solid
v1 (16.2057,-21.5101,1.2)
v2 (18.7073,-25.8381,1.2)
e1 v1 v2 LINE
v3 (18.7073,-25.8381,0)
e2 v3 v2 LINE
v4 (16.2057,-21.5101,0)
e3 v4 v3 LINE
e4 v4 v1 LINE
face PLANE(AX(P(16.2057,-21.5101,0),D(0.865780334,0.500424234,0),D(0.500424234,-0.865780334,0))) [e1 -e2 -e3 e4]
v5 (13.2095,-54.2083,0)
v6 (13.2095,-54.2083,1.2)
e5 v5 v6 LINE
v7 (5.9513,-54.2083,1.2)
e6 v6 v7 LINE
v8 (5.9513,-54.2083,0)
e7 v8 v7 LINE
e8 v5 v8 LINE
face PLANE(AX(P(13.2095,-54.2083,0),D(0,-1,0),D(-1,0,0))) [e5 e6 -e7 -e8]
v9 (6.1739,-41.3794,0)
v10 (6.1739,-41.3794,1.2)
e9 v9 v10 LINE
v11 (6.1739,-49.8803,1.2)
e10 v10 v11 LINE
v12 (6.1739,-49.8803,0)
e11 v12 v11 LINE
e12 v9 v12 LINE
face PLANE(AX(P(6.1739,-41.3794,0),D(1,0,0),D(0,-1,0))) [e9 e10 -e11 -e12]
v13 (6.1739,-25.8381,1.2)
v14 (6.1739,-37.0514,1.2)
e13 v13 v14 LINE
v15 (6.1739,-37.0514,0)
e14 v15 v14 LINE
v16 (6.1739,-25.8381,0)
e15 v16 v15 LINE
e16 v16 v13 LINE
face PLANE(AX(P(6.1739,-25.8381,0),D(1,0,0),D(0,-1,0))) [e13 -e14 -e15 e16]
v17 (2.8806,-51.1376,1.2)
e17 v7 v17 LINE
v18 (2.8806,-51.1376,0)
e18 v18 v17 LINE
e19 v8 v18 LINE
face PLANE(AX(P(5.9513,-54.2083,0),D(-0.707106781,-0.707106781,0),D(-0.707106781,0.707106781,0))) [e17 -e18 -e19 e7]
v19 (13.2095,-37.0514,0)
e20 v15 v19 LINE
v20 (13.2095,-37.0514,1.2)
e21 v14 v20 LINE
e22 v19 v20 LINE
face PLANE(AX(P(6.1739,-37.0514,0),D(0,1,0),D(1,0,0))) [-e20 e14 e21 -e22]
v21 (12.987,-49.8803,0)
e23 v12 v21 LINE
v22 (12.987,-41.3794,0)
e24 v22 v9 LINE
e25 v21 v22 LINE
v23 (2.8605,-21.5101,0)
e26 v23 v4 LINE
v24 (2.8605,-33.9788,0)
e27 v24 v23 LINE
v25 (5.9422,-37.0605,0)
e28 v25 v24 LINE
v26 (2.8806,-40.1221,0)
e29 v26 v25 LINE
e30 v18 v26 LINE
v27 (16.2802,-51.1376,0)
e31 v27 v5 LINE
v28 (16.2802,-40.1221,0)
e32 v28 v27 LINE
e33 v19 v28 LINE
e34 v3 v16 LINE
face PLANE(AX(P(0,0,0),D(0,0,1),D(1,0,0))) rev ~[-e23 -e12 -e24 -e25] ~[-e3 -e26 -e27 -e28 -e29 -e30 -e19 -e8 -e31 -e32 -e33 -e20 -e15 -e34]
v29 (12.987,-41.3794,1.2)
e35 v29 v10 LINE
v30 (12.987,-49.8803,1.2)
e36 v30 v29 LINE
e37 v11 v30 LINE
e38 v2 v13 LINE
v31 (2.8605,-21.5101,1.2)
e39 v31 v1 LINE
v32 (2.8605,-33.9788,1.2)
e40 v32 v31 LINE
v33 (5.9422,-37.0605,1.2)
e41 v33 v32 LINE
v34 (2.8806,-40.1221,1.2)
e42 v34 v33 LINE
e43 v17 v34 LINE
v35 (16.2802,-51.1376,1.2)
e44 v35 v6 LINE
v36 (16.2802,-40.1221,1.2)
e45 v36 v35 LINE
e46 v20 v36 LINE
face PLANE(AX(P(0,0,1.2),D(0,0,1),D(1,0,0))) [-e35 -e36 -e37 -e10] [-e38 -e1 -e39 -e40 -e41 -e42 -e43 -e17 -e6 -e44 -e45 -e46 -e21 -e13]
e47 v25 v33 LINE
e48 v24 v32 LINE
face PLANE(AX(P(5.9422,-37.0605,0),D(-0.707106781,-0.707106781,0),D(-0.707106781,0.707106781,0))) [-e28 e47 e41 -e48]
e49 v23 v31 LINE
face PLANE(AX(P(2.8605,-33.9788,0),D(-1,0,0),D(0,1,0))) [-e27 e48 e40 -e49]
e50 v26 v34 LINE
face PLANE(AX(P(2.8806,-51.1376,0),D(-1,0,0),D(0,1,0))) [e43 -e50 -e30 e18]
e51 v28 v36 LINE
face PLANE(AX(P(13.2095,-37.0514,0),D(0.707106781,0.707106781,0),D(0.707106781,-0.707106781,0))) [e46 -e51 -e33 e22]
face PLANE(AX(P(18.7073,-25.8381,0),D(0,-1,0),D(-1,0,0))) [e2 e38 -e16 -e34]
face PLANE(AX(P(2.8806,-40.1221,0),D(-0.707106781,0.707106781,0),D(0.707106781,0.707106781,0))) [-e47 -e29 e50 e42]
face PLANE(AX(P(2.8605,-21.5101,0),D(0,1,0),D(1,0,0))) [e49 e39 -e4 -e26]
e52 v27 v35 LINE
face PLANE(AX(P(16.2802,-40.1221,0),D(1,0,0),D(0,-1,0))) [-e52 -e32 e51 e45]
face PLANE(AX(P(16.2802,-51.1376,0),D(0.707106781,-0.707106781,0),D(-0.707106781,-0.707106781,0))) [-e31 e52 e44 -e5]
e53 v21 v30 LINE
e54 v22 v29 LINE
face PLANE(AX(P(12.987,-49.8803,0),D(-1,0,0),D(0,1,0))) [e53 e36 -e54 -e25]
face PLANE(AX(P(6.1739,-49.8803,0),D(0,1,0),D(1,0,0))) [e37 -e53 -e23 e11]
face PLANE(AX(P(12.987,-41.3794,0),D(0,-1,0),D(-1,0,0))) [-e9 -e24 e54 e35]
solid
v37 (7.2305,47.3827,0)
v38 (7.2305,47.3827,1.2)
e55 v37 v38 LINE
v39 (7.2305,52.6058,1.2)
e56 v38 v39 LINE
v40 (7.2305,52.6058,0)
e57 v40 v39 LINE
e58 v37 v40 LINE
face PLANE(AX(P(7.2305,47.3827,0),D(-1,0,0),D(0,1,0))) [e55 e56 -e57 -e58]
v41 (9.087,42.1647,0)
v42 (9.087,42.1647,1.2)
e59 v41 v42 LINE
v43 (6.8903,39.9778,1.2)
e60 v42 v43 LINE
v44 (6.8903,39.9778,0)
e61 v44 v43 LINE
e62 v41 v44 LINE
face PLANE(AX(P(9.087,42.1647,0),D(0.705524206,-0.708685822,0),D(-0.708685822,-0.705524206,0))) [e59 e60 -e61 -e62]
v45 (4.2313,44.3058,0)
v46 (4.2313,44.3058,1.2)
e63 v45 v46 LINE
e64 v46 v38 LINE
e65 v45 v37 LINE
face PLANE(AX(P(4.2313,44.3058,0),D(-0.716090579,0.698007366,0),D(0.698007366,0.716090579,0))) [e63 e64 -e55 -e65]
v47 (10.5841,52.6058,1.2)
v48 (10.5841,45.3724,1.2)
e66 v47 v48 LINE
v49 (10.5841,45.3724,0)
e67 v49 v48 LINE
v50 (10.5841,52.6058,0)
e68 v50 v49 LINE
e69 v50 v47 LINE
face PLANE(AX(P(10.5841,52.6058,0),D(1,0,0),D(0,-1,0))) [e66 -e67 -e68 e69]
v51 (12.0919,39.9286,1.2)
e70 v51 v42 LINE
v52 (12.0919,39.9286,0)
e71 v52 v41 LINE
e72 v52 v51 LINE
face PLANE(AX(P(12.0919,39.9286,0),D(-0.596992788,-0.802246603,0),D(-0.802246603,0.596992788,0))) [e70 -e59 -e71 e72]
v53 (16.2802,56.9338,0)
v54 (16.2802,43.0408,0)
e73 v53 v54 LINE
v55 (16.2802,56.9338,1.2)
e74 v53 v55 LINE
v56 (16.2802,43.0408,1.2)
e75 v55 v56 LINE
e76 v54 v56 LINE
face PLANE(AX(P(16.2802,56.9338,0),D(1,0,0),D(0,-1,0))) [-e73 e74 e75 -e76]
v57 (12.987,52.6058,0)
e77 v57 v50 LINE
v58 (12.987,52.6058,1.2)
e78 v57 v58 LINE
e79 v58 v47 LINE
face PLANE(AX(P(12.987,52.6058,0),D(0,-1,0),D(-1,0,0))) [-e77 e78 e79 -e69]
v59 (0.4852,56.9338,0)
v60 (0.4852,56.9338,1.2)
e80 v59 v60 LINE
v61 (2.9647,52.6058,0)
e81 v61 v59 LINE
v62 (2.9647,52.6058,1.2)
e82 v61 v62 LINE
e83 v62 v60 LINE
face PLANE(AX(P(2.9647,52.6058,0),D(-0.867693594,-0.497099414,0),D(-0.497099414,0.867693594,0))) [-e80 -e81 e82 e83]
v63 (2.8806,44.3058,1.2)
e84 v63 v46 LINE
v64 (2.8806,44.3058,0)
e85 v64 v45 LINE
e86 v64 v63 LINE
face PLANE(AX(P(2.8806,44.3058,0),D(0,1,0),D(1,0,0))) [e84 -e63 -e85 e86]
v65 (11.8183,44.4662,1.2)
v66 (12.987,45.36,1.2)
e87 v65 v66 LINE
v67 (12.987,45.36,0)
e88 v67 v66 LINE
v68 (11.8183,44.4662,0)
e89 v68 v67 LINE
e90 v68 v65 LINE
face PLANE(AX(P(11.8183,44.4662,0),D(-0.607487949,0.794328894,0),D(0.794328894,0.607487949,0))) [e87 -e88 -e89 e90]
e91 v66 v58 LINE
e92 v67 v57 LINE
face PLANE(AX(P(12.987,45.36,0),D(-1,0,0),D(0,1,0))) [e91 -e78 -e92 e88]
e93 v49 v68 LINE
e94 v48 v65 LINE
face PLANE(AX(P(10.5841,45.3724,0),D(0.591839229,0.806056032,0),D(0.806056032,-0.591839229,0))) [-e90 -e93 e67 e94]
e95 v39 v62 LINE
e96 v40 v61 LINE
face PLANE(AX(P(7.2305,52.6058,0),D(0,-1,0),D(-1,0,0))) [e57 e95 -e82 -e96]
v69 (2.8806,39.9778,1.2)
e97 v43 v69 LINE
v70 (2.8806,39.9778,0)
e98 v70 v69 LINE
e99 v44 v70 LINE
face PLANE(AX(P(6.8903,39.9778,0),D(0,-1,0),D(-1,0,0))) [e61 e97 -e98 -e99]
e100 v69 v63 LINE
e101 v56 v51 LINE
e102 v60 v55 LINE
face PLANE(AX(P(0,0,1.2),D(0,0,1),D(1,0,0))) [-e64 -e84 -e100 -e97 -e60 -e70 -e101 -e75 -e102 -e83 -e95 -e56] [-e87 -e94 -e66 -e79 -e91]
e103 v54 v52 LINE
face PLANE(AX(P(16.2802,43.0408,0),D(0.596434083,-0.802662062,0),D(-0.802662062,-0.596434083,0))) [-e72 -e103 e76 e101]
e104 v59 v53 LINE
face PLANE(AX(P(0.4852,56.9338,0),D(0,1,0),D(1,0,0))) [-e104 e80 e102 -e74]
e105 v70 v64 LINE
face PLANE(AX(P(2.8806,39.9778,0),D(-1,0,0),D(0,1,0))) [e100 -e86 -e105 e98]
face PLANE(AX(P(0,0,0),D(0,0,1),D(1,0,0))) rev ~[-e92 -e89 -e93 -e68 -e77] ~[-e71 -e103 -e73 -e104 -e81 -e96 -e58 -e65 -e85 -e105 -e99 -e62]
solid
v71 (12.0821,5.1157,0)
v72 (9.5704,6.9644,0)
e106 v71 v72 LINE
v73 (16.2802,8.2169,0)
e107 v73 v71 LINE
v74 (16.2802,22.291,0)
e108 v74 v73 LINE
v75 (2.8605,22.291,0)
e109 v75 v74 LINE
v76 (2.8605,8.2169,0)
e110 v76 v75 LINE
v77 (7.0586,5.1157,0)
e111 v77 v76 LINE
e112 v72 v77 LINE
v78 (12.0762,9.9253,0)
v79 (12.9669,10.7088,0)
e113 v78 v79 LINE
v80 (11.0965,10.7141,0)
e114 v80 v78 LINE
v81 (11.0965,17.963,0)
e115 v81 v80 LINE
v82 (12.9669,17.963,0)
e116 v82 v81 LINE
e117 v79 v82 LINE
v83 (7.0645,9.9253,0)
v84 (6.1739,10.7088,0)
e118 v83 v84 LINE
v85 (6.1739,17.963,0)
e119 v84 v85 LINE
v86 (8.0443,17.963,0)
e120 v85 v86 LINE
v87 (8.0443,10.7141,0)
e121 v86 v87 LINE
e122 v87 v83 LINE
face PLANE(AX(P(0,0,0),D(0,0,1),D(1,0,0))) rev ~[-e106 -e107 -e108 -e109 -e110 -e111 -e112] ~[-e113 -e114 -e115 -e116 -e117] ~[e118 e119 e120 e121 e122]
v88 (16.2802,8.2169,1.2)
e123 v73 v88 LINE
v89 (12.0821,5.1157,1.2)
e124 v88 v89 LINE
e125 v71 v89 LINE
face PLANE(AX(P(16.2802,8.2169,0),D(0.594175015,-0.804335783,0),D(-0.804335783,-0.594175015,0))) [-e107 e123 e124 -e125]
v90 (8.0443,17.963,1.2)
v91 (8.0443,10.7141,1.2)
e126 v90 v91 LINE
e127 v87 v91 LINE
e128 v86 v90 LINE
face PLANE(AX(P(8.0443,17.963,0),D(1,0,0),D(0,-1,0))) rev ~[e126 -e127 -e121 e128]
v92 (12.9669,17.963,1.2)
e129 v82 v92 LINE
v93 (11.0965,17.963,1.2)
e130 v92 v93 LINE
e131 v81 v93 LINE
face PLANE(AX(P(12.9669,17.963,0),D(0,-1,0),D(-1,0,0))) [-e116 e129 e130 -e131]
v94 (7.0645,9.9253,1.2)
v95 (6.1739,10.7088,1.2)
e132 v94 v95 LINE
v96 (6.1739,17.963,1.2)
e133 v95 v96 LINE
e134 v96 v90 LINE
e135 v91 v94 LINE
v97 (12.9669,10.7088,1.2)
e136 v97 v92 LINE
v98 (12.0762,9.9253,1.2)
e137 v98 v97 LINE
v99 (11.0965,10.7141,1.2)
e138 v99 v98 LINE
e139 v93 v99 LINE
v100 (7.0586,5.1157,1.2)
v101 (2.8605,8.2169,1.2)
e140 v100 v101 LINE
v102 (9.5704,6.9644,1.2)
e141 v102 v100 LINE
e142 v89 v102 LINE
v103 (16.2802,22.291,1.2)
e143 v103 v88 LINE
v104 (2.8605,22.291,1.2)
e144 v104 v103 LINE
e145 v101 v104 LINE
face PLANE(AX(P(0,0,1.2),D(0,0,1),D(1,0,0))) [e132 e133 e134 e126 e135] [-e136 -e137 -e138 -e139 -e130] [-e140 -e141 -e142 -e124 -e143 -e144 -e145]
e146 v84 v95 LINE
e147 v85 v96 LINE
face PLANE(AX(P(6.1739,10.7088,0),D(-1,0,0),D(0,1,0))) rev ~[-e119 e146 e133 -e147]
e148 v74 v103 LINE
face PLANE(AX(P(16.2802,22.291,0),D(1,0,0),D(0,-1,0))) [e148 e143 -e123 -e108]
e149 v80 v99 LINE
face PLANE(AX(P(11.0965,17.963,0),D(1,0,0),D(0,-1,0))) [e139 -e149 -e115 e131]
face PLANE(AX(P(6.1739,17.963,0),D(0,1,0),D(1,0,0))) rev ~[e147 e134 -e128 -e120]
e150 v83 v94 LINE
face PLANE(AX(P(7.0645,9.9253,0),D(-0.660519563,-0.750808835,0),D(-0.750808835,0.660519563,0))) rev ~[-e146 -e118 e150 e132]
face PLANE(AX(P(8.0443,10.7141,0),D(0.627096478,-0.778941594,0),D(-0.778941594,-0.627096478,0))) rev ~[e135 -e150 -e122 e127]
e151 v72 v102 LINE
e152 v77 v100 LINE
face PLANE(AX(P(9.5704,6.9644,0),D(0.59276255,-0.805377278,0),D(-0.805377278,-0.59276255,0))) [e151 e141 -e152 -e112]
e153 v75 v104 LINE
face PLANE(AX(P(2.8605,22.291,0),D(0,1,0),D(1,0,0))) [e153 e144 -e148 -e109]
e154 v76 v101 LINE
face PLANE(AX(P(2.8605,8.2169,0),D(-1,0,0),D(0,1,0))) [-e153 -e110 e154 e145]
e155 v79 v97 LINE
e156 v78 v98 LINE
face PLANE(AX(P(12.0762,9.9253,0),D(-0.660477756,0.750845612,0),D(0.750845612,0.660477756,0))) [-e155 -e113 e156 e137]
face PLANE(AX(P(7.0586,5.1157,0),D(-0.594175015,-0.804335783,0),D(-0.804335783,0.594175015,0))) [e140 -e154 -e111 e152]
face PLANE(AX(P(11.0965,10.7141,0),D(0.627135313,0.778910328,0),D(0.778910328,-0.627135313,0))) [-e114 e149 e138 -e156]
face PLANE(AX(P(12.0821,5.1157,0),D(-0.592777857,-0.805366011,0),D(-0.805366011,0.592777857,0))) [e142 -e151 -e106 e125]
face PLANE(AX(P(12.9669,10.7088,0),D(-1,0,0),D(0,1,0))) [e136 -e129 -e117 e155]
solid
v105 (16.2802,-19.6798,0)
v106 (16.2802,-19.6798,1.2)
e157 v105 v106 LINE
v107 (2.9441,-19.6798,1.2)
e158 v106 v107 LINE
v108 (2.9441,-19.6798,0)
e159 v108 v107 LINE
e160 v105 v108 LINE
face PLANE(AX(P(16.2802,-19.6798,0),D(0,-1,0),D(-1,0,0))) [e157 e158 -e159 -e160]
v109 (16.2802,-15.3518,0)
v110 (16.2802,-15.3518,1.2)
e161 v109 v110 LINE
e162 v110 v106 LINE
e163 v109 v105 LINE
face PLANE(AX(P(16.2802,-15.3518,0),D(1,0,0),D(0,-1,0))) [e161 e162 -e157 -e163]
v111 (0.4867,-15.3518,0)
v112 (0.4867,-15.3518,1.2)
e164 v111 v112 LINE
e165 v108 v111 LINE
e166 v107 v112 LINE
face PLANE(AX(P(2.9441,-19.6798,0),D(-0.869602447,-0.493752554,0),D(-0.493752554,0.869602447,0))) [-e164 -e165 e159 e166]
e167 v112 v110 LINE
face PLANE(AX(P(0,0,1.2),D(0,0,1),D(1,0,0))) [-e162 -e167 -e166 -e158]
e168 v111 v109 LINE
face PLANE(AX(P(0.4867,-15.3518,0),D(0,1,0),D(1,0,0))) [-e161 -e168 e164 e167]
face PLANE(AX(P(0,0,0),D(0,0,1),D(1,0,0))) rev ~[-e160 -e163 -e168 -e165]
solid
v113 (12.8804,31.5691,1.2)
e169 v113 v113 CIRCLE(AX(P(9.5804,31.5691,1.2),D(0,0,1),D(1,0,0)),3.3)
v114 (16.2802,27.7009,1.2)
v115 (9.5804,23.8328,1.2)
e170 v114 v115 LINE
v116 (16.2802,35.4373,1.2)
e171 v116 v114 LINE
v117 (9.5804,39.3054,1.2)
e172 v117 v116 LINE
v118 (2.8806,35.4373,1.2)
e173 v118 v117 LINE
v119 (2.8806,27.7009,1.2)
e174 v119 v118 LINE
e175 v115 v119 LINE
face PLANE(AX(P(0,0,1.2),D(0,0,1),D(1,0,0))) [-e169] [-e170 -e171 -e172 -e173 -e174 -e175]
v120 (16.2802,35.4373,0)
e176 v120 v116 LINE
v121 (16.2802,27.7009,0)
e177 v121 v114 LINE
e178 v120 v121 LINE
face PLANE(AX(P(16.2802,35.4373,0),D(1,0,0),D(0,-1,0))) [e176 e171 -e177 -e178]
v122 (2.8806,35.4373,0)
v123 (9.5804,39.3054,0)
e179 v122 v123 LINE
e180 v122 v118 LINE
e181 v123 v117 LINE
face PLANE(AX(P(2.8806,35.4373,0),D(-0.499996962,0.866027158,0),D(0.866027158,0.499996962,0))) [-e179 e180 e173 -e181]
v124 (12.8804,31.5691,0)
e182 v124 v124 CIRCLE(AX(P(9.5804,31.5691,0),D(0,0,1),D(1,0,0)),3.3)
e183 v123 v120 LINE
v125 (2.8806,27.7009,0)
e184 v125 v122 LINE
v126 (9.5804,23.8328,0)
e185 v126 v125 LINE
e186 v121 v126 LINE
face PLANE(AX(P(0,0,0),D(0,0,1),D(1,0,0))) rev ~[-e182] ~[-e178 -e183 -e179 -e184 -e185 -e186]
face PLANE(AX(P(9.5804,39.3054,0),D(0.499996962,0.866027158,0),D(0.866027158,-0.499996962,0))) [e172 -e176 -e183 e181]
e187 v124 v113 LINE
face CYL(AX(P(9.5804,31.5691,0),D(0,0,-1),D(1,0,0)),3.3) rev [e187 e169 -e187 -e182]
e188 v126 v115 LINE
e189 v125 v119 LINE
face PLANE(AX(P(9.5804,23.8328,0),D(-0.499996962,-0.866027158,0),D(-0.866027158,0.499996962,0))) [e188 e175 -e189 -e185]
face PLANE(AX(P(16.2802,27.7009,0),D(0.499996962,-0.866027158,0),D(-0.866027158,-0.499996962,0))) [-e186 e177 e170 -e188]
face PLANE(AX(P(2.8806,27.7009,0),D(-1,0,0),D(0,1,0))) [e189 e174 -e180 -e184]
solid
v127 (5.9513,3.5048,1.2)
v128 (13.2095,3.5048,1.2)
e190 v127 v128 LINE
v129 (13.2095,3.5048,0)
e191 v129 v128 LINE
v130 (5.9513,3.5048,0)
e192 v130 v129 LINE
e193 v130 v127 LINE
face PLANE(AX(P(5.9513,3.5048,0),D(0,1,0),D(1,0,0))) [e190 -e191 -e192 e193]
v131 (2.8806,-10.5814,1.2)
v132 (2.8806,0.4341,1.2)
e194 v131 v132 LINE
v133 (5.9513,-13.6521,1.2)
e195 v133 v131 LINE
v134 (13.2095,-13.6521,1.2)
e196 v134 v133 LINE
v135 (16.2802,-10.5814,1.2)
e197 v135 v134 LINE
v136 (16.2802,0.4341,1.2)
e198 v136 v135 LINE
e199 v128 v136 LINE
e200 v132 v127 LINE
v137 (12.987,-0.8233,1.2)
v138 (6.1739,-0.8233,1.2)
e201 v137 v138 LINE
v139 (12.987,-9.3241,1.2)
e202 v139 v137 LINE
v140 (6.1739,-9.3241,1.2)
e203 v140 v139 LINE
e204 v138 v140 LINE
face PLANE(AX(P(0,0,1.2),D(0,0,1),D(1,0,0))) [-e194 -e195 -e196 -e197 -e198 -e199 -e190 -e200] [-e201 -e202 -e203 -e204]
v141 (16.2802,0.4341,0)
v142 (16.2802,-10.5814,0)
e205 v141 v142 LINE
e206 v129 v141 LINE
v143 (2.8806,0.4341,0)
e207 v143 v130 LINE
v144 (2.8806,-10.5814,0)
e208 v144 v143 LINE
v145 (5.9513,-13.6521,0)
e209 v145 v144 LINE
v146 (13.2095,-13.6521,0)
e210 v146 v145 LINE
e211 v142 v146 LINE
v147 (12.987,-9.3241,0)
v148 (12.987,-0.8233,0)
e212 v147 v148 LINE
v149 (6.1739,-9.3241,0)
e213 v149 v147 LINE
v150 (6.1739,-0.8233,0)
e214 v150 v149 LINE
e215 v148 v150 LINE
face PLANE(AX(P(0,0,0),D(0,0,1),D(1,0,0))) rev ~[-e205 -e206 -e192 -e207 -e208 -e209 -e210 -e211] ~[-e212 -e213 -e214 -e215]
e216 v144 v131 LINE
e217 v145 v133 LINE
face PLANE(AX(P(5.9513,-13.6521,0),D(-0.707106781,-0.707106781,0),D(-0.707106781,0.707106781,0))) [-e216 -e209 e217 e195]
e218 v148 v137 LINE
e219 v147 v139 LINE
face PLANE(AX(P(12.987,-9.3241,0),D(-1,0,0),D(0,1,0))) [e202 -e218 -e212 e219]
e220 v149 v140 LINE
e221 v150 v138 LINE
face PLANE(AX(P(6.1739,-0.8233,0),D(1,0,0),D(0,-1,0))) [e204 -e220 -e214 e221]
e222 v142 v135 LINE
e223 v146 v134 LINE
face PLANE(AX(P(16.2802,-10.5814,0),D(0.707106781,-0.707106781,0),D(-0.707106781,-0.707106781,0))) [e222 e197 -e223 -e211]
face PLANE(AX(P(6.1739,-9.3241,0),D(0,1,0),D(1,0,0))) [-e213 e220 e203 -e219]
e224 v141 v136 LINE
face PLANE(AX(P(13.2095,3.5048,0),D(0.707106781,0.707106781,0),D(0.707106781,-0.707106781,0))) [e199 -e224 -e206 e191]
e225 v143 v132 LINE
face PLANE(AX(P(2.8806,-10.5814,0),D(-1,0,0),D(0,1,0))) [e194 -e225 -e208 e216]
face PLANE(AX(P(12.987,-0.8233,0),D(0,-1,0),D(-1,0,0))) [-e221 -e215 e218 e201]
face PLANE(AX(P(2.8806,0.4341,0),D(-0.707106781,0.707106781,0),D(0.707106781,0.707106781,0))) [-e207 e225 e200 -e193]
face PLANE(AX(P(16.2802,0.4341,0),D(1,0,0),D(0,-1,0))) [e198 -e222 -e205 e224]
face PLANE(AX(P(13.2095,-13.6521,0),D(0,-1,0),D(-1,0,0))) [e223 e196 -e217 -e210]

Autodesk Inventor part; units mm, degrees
ref_plane "YZ Plane" through (0, 0, 0) normal (1, 0, 0) x (0, 1, 0)
ref_plane "XZ Plane" through (0, 0, 0) normal (0, 1, 0) x (-1, 0, 0)
ref_plane "XY Plane" through (0, 0, 0) normal (0, 0, 1) x (1, 0, 0)
sketch "Sketch1" plane through (0, 0, 0) normal (0, 0, 1) x (1, 0, 0)
  line L0 (13.187, 45.2611) -> (13.187, 52.8058) construction
  line L1 (11.8207, 44.2163) -> (13.187, 45.2611) construction
  line L2 (10.3841, 45.2712) -> (11.8207, 44.2163) construction
  line L3 (10.3841, 52.8058) -> (10.3841, 45.2712) construction
  line L4 (13.187, 52.8058) -> (10.3841, 52.8058) construction
  line L5 (3.0806, 40.1778) -> (3.0806, 44.1058) construction
  line L6 (6.8077, 40.1778) -> (3.0806, 40.1778) construction
  line L7 (9.0681, 42.4281) -> (6.8077, 40.1778) construction
  line L8 (12.0919, 40.1778) -> (9.0681, 42.4281) construction
  line L9 (16.0802, 43.1414) -> (12.0919, 40.1778) construction
  line L10 (16.0802, 56.7338) -> (16.0802, 43.1414) construction
  line L11 (0.8302, 56.7338) -> (16.0802, 56.7338) construction
  line L12 (3.0806, 52.8058) -> (0.8302, 56.7338) construction
  line L13 (7.4305, 52.8058) -> (3.0806, 52.8058) construction
  line L14 (7.4305, 47.3013) -> (7.4305, 52.8058) construction
  line L15 (4.3156, 44.1058) -> (7.4305, 47.3013) construction
  line L16 (3.0806, 44.1058) -> (4.3156, 44.1058) construction
  line L17 (3.0806, 27.8164) -> (3.0806, 35.3218) construction
  line L18 (9.5804, 24.0637) -> (3.0806, 27.8164) construction
  line L19 (16.0802, 27.8164) -> (9.5804, 24.0637) construction
  line L20 (16.0802, 35.3218) -> (16.0802, 27.8164) construction
  line L21 (9.5804, 39.0745) -> (16.0802, 35.3218) construction
  line L22 (3.0806, 35.3218) -> (9.5804, 39.0745) construction
  circle A0 centre (9.5804, 31.5691) radius 3.5 construction
  line L23 (13.1669, 10.6183) -> (13.1669, 18.163) construction
  line L24 (12.0819, 9.664) -> (13.1669, 10.6183) construction
  line L25 (10.8965, 10.6183) -> (12.0819, 9.664) construction
  line L26 (10.8965, 18.163) -> (10.8965, 10.6183) construction
  line L27 (13.1669, 18.163) -> (10.8965, 18.163) construction
  line L28 (8.2443, 10.6183) -> (8.2443, 18.163) construction
  line L29 (7.0588, 9.664) -> (8.2443, 10.6183) construction
  line L30 (5.9739, 10.6183) -> (7.0588, 9.664) construction
  line L31 (5.9739, 18.163) -> (5.9739, 10.6183) construction
  line L32 (8.2443, 18.163) -> (5.9739, 18.163) construction
  line L33 (7.0588, 5.3642) -> (3.0605, 8.3178) construction
  line L34 (9.5704, 7.2127) -> (7.0588, 5.3642) construction
  line L35 (12.0819, 5.3642) -> (9.5704, 7.2127) construction
  line L36 (16.0802, 8.3178) -> (12.0819, 5.3642) construction
  line L37 (16.0802, 22.091) -> (16.0802, 8.3178) construction
  line L38 (3.0605, 22.091) -> (16.0802, 22.091) construction
  line L39 (3.0605, 8.3178) -> (3.0605, 22.091) construction
  line L40 (13.187, -9.5241) -> (13.187, -0.6233) construction
  line L41 (5.9739, -9.5241) -> (13.187, -9.5241) construction
  line L42 (5.9739, -0.6233) -> (5.9739, -9.5241) construction
  line L43 (13.187, -0.6233) -> (5.9739, -0.6233) construction
  line L44 (6.0341, -13.4521) -> (3.0806, -10.4986) construction
  line L45 (13.1267, -13.4521) -> (6.0341, -13.4521) construction
  line L46 (16.0802, -10.4986) -> (13.1267, -13.4521) construction
  line L47 (16.0802, 0.3512) -> (16.0802, -10.4986) construction
  line L48 (13.1267, 3.3048) -> (16.0802, 0.3512) construction
  line L49 (6.0341, 3.3048) -> (13.1267, 3.3048) construction
  line L50 (3.0806, 0.3512) -> (6.0341, 3.3048) construction
  line L51 (3.0806, -10.4986) -> (3.0806, 0.3512) construction
  line L52 (3.0605, -19.4798) -> (0.8302, -15.5518) construction
  line L53 (16.0802, -19.4798) -> (3.0605, -19.4798) construction
  line L54 (16.0802, -15.5518) -> (16.0802, -19.4798) construction
  line L55 (0.8302, -15.5518) -> (16.0802, -15.5518) construction
  line L56 (5.9739, -36.8094) -> (3.0605, -33.896) construction
  line L57 (5.9739, -25.6381) -> (5.9739, -36.8094) construction
  line L58 (18.3607, -25.6381) -> (5.9739, -25.6381) construction
  line L59 (16.0903, -21.7101) -> (18.3607, -25.6381) construction
  line L60 (3.0605, -21.7101) -> (16.0903, -21.7101) construction
  line L61 (3.0605, -33.896) -> (3.0605, -21.7101) construction
  line L62 (13.187, -50.0803) -> (13.187, -41.1794) construction
  line L63 (5.9739, -50.0803) -> (13.187, -50.0803) construction
  line L64 (5.9739, -41.1794) -> (5.9739, -50.0803) construction
  line L65 (13.187, -41.1794) -> (5.9739, -41.1794) construction
  line L66 (6.0341, -54.0083) -> (3.0806, -51.0548) construction
  line L67 (13.1267, -54.0083) -> (6.0341, -54.0083) construction
  line L68 (16.0802, -51.0548) -> (13.1267, -54.0083) construction
  line L69 (16.0802, -40.2049) -> (16.0802, -51.0548) construction
  line L70 (13.1267, -37.2514) -> (16.0802, -40.2049) construction
  line L71 (6.0341, -37.2514) -> (13.1267, -37.2514) construction
  line L72 (3.0806, -40.2049) -> (6.0341, -37.2514) construction
  line L73 (3.0806, -51.0548) -> (3.0806, -40.2049) construction
  line L74 (7.2305, 52.6058) -> (2.9647, 52.6058)
  line L75 (2.9647, 52.6058) -> (0.4852, 56.9338)
  line L76 (0.4852, 56.9338) -> (16.2802, 56.9338)
  line L77 (16.2802, 56.9338) -> (16.2802, 43.0408)
  line L78 (16.2802, 43.0408) -> (12.0919, 39.9286)
  line L79 (12.0919, 39.9286) -> (9.087, 42.1647)
  line L80 (9.087, 42.1647) -> (6.8903, 39.9778)
  line L81 (6.8903, 39.9778) -> (2.8806, 39.9778)
  line L82 (2.8806, 39.9778) -> (2.8806, 44.3058)
  line L83 (2.8806, 44.3058) -> (4.2313, 44.3058)
  line L84 (4.2313, 44.3058) -> (7.2305, 47.3827)
  line L85 (7.2305, 47.3827) -> (7.2305, 52.6058)
  line L86 (11.8183, 44.4662) -> (12.987, 45.36)
  line L87 (12.987, 45.36) -> (12.987, 52.6058)
  line L88 (12.987, 52.6058) -> (10.5841, 52.6058)
  line L89 (10.5841, 52.6058) -> (10.5841, 45.3724)
  line L90 (10.5841, 45.3724) -> (11.8183, 44.4662)
  circle A1 centre (9.5804, 31.5691) radius 3.3
  line L91 (9.5804, 39.3054) -> (16.2802, 35.4373)
  line L92 (16.2802, 35.4373) -> (16.2802, 27.7009)
  line L93 (16.2802, 27.7009) -> (9.5804, 23.8328)
  line L94 (9.5804, 23.8328) -> (2.8806, 27.7009)
  line L95 (2.8806, 27.7009) -> (2.8806, 35.4373)
  line L96 (2.8806, 35.4373) -> (9.5804, 39.3054)
  line L97 (16.2802, 22.291) -> (16.2802, 8.2169)
  line L98 (16.2802, 8.2169) -> (12.0821, 5.1157)
  line L99 (12.0821, 5.1157) -> (9.5704, 6.9644)
  line L100 (9.5704, 6.9644) -> (7.0586, 5.1157)
  line L101 (7.0586, 5.1157) -> (2.8605, 8.2169)
  line L102 (2.8605, 8.2169) -> (2.8605, 22.291)
  line L103 (2.8605, 22.291) -> (16.2802, 22.291)
  line L104 (8.0443, 17.963) -> (8.0443, 10.7141)
  line L105 (8.0443, 10.7141) -> (7.0645, 9.9253)
  line L106 (7.0645, 9.9253) -> (6.1739, 10.7088)
  line L107 (6.1739, 10.7088) -> (6.1739, 17.963)
  line L108 (6.1739, 17.963) -> (8.0443, 17.963)
  line L109 (11.0965, 10.7141) -> (12.0762, 9.9253)
  line L110 (12.0762, 9.9253) -> (12.9669, 10.7088)
  line L111 (12.9669, 10.7088) -> (12.9669, 17.963)
  line L112 (12.9669, 17.963) -> (11.0965, 17.963)
  line L113 (11.0965, 17.963) -> (11.0965, 10.7141)
  line L114 (13.2095, 3.5048) -> (16.2802, 0.4341)
  line L115 (16.2802, 0.4341) -> (16.2802, -10.5814)
  line L116 (16.2802, -10.5814) -> (13.2095, -13.6521)
  line L117 (13.2095, -13.6521) -> (5.9513, -13.6521)
  line L118 (5.9513, -13.6521) -> (2.8806, -10.5814)
  line L119 (2.8806, -10.5814) -> (2.8806, 0.4341)
  line L120 (2.8806, 0.4341) -> (5.9513, 3.5048)
  line L121 (5.9513, 3.5048) -> (13.2095, 3.5048)
  line L122 (6.1739, -0.8233) -> (6.1739, -9.3241)
  line L123 (6.1739, -9.3241) -> (12.987, -9.3241)
  line L124 (12.987, -9.3241) -> (12.987, -0.8233)
  line L125 (12.987, -0.8233) -> (6.1739, -0.8233)
  line L126 (16.2802, -15.3518) -> (16.2802, -19.6798)
  line L127 (16.2802, -19.6798) -> (2.9441, -19.6798)
  line L128 (2.9441, -19.6798) -> (0.4867, -15.3518)
  line L129 (0.4867, -15.3518) -> (16.2802, -15.3518)
  line L130 (6.1739, -37.2922) -> (2.8605, -33.9788)
  line L131 (2.8605, -33.9788) -> (2.8605, -21.5101)
  line L132 (2.8605, -21.5101) -> (16.2057, -21.5101)
  line L133 (16.2057, -21.5101) -> (18.7073, -25.8381)
  line L134 (18.7073, -25.8381) -> (6.1739, -25.8381)
  line L135 (6.1739, -25.8381) -> (6.1739, -37.2922)
  line L136 (13.2095, -37.0514) -> (16.2802, -40.1221)
  line L137 (16.2802, -40.1221) -> (16.2802, -51.1376)
  line L138 (16.2802, -51.1376) -> (13.2095, -54.2083)
  line L139 (13.2095, -54.2083) -> (5.9513, -54.2083)
  line L140 (5.9513, -54.2083) -> (2.8806, -51.1376)
  line L141 (2.8806, -51.1376) -> (2.8806, -40.1221)
  line L142 (2.8806, -40.1221) -> (5.9513, -37.0514)
  line L143 (5.9513, -37.0514) -> (13.2095, -37.0514)
  line L144 (6.1739, -41.3794) -> (6.1739, -49.8803)
  line L145 (6.1739, -49.8803) -> (12.987, -49.8803)
  line L146 (12.987, -49.8803) -> (12.987, -41.3794)
  line L147 (12.987, -41.3794) -> (6.1739, -41.3794)
  point P0 (0, 0)
  point P1 (6.1739, -37.0514)
  point P2 (5.9422, -37.0605)
extrude "Extrusion1" add sketch "Sketch1" along normal blind 1.2
properties part number "roboilo"
